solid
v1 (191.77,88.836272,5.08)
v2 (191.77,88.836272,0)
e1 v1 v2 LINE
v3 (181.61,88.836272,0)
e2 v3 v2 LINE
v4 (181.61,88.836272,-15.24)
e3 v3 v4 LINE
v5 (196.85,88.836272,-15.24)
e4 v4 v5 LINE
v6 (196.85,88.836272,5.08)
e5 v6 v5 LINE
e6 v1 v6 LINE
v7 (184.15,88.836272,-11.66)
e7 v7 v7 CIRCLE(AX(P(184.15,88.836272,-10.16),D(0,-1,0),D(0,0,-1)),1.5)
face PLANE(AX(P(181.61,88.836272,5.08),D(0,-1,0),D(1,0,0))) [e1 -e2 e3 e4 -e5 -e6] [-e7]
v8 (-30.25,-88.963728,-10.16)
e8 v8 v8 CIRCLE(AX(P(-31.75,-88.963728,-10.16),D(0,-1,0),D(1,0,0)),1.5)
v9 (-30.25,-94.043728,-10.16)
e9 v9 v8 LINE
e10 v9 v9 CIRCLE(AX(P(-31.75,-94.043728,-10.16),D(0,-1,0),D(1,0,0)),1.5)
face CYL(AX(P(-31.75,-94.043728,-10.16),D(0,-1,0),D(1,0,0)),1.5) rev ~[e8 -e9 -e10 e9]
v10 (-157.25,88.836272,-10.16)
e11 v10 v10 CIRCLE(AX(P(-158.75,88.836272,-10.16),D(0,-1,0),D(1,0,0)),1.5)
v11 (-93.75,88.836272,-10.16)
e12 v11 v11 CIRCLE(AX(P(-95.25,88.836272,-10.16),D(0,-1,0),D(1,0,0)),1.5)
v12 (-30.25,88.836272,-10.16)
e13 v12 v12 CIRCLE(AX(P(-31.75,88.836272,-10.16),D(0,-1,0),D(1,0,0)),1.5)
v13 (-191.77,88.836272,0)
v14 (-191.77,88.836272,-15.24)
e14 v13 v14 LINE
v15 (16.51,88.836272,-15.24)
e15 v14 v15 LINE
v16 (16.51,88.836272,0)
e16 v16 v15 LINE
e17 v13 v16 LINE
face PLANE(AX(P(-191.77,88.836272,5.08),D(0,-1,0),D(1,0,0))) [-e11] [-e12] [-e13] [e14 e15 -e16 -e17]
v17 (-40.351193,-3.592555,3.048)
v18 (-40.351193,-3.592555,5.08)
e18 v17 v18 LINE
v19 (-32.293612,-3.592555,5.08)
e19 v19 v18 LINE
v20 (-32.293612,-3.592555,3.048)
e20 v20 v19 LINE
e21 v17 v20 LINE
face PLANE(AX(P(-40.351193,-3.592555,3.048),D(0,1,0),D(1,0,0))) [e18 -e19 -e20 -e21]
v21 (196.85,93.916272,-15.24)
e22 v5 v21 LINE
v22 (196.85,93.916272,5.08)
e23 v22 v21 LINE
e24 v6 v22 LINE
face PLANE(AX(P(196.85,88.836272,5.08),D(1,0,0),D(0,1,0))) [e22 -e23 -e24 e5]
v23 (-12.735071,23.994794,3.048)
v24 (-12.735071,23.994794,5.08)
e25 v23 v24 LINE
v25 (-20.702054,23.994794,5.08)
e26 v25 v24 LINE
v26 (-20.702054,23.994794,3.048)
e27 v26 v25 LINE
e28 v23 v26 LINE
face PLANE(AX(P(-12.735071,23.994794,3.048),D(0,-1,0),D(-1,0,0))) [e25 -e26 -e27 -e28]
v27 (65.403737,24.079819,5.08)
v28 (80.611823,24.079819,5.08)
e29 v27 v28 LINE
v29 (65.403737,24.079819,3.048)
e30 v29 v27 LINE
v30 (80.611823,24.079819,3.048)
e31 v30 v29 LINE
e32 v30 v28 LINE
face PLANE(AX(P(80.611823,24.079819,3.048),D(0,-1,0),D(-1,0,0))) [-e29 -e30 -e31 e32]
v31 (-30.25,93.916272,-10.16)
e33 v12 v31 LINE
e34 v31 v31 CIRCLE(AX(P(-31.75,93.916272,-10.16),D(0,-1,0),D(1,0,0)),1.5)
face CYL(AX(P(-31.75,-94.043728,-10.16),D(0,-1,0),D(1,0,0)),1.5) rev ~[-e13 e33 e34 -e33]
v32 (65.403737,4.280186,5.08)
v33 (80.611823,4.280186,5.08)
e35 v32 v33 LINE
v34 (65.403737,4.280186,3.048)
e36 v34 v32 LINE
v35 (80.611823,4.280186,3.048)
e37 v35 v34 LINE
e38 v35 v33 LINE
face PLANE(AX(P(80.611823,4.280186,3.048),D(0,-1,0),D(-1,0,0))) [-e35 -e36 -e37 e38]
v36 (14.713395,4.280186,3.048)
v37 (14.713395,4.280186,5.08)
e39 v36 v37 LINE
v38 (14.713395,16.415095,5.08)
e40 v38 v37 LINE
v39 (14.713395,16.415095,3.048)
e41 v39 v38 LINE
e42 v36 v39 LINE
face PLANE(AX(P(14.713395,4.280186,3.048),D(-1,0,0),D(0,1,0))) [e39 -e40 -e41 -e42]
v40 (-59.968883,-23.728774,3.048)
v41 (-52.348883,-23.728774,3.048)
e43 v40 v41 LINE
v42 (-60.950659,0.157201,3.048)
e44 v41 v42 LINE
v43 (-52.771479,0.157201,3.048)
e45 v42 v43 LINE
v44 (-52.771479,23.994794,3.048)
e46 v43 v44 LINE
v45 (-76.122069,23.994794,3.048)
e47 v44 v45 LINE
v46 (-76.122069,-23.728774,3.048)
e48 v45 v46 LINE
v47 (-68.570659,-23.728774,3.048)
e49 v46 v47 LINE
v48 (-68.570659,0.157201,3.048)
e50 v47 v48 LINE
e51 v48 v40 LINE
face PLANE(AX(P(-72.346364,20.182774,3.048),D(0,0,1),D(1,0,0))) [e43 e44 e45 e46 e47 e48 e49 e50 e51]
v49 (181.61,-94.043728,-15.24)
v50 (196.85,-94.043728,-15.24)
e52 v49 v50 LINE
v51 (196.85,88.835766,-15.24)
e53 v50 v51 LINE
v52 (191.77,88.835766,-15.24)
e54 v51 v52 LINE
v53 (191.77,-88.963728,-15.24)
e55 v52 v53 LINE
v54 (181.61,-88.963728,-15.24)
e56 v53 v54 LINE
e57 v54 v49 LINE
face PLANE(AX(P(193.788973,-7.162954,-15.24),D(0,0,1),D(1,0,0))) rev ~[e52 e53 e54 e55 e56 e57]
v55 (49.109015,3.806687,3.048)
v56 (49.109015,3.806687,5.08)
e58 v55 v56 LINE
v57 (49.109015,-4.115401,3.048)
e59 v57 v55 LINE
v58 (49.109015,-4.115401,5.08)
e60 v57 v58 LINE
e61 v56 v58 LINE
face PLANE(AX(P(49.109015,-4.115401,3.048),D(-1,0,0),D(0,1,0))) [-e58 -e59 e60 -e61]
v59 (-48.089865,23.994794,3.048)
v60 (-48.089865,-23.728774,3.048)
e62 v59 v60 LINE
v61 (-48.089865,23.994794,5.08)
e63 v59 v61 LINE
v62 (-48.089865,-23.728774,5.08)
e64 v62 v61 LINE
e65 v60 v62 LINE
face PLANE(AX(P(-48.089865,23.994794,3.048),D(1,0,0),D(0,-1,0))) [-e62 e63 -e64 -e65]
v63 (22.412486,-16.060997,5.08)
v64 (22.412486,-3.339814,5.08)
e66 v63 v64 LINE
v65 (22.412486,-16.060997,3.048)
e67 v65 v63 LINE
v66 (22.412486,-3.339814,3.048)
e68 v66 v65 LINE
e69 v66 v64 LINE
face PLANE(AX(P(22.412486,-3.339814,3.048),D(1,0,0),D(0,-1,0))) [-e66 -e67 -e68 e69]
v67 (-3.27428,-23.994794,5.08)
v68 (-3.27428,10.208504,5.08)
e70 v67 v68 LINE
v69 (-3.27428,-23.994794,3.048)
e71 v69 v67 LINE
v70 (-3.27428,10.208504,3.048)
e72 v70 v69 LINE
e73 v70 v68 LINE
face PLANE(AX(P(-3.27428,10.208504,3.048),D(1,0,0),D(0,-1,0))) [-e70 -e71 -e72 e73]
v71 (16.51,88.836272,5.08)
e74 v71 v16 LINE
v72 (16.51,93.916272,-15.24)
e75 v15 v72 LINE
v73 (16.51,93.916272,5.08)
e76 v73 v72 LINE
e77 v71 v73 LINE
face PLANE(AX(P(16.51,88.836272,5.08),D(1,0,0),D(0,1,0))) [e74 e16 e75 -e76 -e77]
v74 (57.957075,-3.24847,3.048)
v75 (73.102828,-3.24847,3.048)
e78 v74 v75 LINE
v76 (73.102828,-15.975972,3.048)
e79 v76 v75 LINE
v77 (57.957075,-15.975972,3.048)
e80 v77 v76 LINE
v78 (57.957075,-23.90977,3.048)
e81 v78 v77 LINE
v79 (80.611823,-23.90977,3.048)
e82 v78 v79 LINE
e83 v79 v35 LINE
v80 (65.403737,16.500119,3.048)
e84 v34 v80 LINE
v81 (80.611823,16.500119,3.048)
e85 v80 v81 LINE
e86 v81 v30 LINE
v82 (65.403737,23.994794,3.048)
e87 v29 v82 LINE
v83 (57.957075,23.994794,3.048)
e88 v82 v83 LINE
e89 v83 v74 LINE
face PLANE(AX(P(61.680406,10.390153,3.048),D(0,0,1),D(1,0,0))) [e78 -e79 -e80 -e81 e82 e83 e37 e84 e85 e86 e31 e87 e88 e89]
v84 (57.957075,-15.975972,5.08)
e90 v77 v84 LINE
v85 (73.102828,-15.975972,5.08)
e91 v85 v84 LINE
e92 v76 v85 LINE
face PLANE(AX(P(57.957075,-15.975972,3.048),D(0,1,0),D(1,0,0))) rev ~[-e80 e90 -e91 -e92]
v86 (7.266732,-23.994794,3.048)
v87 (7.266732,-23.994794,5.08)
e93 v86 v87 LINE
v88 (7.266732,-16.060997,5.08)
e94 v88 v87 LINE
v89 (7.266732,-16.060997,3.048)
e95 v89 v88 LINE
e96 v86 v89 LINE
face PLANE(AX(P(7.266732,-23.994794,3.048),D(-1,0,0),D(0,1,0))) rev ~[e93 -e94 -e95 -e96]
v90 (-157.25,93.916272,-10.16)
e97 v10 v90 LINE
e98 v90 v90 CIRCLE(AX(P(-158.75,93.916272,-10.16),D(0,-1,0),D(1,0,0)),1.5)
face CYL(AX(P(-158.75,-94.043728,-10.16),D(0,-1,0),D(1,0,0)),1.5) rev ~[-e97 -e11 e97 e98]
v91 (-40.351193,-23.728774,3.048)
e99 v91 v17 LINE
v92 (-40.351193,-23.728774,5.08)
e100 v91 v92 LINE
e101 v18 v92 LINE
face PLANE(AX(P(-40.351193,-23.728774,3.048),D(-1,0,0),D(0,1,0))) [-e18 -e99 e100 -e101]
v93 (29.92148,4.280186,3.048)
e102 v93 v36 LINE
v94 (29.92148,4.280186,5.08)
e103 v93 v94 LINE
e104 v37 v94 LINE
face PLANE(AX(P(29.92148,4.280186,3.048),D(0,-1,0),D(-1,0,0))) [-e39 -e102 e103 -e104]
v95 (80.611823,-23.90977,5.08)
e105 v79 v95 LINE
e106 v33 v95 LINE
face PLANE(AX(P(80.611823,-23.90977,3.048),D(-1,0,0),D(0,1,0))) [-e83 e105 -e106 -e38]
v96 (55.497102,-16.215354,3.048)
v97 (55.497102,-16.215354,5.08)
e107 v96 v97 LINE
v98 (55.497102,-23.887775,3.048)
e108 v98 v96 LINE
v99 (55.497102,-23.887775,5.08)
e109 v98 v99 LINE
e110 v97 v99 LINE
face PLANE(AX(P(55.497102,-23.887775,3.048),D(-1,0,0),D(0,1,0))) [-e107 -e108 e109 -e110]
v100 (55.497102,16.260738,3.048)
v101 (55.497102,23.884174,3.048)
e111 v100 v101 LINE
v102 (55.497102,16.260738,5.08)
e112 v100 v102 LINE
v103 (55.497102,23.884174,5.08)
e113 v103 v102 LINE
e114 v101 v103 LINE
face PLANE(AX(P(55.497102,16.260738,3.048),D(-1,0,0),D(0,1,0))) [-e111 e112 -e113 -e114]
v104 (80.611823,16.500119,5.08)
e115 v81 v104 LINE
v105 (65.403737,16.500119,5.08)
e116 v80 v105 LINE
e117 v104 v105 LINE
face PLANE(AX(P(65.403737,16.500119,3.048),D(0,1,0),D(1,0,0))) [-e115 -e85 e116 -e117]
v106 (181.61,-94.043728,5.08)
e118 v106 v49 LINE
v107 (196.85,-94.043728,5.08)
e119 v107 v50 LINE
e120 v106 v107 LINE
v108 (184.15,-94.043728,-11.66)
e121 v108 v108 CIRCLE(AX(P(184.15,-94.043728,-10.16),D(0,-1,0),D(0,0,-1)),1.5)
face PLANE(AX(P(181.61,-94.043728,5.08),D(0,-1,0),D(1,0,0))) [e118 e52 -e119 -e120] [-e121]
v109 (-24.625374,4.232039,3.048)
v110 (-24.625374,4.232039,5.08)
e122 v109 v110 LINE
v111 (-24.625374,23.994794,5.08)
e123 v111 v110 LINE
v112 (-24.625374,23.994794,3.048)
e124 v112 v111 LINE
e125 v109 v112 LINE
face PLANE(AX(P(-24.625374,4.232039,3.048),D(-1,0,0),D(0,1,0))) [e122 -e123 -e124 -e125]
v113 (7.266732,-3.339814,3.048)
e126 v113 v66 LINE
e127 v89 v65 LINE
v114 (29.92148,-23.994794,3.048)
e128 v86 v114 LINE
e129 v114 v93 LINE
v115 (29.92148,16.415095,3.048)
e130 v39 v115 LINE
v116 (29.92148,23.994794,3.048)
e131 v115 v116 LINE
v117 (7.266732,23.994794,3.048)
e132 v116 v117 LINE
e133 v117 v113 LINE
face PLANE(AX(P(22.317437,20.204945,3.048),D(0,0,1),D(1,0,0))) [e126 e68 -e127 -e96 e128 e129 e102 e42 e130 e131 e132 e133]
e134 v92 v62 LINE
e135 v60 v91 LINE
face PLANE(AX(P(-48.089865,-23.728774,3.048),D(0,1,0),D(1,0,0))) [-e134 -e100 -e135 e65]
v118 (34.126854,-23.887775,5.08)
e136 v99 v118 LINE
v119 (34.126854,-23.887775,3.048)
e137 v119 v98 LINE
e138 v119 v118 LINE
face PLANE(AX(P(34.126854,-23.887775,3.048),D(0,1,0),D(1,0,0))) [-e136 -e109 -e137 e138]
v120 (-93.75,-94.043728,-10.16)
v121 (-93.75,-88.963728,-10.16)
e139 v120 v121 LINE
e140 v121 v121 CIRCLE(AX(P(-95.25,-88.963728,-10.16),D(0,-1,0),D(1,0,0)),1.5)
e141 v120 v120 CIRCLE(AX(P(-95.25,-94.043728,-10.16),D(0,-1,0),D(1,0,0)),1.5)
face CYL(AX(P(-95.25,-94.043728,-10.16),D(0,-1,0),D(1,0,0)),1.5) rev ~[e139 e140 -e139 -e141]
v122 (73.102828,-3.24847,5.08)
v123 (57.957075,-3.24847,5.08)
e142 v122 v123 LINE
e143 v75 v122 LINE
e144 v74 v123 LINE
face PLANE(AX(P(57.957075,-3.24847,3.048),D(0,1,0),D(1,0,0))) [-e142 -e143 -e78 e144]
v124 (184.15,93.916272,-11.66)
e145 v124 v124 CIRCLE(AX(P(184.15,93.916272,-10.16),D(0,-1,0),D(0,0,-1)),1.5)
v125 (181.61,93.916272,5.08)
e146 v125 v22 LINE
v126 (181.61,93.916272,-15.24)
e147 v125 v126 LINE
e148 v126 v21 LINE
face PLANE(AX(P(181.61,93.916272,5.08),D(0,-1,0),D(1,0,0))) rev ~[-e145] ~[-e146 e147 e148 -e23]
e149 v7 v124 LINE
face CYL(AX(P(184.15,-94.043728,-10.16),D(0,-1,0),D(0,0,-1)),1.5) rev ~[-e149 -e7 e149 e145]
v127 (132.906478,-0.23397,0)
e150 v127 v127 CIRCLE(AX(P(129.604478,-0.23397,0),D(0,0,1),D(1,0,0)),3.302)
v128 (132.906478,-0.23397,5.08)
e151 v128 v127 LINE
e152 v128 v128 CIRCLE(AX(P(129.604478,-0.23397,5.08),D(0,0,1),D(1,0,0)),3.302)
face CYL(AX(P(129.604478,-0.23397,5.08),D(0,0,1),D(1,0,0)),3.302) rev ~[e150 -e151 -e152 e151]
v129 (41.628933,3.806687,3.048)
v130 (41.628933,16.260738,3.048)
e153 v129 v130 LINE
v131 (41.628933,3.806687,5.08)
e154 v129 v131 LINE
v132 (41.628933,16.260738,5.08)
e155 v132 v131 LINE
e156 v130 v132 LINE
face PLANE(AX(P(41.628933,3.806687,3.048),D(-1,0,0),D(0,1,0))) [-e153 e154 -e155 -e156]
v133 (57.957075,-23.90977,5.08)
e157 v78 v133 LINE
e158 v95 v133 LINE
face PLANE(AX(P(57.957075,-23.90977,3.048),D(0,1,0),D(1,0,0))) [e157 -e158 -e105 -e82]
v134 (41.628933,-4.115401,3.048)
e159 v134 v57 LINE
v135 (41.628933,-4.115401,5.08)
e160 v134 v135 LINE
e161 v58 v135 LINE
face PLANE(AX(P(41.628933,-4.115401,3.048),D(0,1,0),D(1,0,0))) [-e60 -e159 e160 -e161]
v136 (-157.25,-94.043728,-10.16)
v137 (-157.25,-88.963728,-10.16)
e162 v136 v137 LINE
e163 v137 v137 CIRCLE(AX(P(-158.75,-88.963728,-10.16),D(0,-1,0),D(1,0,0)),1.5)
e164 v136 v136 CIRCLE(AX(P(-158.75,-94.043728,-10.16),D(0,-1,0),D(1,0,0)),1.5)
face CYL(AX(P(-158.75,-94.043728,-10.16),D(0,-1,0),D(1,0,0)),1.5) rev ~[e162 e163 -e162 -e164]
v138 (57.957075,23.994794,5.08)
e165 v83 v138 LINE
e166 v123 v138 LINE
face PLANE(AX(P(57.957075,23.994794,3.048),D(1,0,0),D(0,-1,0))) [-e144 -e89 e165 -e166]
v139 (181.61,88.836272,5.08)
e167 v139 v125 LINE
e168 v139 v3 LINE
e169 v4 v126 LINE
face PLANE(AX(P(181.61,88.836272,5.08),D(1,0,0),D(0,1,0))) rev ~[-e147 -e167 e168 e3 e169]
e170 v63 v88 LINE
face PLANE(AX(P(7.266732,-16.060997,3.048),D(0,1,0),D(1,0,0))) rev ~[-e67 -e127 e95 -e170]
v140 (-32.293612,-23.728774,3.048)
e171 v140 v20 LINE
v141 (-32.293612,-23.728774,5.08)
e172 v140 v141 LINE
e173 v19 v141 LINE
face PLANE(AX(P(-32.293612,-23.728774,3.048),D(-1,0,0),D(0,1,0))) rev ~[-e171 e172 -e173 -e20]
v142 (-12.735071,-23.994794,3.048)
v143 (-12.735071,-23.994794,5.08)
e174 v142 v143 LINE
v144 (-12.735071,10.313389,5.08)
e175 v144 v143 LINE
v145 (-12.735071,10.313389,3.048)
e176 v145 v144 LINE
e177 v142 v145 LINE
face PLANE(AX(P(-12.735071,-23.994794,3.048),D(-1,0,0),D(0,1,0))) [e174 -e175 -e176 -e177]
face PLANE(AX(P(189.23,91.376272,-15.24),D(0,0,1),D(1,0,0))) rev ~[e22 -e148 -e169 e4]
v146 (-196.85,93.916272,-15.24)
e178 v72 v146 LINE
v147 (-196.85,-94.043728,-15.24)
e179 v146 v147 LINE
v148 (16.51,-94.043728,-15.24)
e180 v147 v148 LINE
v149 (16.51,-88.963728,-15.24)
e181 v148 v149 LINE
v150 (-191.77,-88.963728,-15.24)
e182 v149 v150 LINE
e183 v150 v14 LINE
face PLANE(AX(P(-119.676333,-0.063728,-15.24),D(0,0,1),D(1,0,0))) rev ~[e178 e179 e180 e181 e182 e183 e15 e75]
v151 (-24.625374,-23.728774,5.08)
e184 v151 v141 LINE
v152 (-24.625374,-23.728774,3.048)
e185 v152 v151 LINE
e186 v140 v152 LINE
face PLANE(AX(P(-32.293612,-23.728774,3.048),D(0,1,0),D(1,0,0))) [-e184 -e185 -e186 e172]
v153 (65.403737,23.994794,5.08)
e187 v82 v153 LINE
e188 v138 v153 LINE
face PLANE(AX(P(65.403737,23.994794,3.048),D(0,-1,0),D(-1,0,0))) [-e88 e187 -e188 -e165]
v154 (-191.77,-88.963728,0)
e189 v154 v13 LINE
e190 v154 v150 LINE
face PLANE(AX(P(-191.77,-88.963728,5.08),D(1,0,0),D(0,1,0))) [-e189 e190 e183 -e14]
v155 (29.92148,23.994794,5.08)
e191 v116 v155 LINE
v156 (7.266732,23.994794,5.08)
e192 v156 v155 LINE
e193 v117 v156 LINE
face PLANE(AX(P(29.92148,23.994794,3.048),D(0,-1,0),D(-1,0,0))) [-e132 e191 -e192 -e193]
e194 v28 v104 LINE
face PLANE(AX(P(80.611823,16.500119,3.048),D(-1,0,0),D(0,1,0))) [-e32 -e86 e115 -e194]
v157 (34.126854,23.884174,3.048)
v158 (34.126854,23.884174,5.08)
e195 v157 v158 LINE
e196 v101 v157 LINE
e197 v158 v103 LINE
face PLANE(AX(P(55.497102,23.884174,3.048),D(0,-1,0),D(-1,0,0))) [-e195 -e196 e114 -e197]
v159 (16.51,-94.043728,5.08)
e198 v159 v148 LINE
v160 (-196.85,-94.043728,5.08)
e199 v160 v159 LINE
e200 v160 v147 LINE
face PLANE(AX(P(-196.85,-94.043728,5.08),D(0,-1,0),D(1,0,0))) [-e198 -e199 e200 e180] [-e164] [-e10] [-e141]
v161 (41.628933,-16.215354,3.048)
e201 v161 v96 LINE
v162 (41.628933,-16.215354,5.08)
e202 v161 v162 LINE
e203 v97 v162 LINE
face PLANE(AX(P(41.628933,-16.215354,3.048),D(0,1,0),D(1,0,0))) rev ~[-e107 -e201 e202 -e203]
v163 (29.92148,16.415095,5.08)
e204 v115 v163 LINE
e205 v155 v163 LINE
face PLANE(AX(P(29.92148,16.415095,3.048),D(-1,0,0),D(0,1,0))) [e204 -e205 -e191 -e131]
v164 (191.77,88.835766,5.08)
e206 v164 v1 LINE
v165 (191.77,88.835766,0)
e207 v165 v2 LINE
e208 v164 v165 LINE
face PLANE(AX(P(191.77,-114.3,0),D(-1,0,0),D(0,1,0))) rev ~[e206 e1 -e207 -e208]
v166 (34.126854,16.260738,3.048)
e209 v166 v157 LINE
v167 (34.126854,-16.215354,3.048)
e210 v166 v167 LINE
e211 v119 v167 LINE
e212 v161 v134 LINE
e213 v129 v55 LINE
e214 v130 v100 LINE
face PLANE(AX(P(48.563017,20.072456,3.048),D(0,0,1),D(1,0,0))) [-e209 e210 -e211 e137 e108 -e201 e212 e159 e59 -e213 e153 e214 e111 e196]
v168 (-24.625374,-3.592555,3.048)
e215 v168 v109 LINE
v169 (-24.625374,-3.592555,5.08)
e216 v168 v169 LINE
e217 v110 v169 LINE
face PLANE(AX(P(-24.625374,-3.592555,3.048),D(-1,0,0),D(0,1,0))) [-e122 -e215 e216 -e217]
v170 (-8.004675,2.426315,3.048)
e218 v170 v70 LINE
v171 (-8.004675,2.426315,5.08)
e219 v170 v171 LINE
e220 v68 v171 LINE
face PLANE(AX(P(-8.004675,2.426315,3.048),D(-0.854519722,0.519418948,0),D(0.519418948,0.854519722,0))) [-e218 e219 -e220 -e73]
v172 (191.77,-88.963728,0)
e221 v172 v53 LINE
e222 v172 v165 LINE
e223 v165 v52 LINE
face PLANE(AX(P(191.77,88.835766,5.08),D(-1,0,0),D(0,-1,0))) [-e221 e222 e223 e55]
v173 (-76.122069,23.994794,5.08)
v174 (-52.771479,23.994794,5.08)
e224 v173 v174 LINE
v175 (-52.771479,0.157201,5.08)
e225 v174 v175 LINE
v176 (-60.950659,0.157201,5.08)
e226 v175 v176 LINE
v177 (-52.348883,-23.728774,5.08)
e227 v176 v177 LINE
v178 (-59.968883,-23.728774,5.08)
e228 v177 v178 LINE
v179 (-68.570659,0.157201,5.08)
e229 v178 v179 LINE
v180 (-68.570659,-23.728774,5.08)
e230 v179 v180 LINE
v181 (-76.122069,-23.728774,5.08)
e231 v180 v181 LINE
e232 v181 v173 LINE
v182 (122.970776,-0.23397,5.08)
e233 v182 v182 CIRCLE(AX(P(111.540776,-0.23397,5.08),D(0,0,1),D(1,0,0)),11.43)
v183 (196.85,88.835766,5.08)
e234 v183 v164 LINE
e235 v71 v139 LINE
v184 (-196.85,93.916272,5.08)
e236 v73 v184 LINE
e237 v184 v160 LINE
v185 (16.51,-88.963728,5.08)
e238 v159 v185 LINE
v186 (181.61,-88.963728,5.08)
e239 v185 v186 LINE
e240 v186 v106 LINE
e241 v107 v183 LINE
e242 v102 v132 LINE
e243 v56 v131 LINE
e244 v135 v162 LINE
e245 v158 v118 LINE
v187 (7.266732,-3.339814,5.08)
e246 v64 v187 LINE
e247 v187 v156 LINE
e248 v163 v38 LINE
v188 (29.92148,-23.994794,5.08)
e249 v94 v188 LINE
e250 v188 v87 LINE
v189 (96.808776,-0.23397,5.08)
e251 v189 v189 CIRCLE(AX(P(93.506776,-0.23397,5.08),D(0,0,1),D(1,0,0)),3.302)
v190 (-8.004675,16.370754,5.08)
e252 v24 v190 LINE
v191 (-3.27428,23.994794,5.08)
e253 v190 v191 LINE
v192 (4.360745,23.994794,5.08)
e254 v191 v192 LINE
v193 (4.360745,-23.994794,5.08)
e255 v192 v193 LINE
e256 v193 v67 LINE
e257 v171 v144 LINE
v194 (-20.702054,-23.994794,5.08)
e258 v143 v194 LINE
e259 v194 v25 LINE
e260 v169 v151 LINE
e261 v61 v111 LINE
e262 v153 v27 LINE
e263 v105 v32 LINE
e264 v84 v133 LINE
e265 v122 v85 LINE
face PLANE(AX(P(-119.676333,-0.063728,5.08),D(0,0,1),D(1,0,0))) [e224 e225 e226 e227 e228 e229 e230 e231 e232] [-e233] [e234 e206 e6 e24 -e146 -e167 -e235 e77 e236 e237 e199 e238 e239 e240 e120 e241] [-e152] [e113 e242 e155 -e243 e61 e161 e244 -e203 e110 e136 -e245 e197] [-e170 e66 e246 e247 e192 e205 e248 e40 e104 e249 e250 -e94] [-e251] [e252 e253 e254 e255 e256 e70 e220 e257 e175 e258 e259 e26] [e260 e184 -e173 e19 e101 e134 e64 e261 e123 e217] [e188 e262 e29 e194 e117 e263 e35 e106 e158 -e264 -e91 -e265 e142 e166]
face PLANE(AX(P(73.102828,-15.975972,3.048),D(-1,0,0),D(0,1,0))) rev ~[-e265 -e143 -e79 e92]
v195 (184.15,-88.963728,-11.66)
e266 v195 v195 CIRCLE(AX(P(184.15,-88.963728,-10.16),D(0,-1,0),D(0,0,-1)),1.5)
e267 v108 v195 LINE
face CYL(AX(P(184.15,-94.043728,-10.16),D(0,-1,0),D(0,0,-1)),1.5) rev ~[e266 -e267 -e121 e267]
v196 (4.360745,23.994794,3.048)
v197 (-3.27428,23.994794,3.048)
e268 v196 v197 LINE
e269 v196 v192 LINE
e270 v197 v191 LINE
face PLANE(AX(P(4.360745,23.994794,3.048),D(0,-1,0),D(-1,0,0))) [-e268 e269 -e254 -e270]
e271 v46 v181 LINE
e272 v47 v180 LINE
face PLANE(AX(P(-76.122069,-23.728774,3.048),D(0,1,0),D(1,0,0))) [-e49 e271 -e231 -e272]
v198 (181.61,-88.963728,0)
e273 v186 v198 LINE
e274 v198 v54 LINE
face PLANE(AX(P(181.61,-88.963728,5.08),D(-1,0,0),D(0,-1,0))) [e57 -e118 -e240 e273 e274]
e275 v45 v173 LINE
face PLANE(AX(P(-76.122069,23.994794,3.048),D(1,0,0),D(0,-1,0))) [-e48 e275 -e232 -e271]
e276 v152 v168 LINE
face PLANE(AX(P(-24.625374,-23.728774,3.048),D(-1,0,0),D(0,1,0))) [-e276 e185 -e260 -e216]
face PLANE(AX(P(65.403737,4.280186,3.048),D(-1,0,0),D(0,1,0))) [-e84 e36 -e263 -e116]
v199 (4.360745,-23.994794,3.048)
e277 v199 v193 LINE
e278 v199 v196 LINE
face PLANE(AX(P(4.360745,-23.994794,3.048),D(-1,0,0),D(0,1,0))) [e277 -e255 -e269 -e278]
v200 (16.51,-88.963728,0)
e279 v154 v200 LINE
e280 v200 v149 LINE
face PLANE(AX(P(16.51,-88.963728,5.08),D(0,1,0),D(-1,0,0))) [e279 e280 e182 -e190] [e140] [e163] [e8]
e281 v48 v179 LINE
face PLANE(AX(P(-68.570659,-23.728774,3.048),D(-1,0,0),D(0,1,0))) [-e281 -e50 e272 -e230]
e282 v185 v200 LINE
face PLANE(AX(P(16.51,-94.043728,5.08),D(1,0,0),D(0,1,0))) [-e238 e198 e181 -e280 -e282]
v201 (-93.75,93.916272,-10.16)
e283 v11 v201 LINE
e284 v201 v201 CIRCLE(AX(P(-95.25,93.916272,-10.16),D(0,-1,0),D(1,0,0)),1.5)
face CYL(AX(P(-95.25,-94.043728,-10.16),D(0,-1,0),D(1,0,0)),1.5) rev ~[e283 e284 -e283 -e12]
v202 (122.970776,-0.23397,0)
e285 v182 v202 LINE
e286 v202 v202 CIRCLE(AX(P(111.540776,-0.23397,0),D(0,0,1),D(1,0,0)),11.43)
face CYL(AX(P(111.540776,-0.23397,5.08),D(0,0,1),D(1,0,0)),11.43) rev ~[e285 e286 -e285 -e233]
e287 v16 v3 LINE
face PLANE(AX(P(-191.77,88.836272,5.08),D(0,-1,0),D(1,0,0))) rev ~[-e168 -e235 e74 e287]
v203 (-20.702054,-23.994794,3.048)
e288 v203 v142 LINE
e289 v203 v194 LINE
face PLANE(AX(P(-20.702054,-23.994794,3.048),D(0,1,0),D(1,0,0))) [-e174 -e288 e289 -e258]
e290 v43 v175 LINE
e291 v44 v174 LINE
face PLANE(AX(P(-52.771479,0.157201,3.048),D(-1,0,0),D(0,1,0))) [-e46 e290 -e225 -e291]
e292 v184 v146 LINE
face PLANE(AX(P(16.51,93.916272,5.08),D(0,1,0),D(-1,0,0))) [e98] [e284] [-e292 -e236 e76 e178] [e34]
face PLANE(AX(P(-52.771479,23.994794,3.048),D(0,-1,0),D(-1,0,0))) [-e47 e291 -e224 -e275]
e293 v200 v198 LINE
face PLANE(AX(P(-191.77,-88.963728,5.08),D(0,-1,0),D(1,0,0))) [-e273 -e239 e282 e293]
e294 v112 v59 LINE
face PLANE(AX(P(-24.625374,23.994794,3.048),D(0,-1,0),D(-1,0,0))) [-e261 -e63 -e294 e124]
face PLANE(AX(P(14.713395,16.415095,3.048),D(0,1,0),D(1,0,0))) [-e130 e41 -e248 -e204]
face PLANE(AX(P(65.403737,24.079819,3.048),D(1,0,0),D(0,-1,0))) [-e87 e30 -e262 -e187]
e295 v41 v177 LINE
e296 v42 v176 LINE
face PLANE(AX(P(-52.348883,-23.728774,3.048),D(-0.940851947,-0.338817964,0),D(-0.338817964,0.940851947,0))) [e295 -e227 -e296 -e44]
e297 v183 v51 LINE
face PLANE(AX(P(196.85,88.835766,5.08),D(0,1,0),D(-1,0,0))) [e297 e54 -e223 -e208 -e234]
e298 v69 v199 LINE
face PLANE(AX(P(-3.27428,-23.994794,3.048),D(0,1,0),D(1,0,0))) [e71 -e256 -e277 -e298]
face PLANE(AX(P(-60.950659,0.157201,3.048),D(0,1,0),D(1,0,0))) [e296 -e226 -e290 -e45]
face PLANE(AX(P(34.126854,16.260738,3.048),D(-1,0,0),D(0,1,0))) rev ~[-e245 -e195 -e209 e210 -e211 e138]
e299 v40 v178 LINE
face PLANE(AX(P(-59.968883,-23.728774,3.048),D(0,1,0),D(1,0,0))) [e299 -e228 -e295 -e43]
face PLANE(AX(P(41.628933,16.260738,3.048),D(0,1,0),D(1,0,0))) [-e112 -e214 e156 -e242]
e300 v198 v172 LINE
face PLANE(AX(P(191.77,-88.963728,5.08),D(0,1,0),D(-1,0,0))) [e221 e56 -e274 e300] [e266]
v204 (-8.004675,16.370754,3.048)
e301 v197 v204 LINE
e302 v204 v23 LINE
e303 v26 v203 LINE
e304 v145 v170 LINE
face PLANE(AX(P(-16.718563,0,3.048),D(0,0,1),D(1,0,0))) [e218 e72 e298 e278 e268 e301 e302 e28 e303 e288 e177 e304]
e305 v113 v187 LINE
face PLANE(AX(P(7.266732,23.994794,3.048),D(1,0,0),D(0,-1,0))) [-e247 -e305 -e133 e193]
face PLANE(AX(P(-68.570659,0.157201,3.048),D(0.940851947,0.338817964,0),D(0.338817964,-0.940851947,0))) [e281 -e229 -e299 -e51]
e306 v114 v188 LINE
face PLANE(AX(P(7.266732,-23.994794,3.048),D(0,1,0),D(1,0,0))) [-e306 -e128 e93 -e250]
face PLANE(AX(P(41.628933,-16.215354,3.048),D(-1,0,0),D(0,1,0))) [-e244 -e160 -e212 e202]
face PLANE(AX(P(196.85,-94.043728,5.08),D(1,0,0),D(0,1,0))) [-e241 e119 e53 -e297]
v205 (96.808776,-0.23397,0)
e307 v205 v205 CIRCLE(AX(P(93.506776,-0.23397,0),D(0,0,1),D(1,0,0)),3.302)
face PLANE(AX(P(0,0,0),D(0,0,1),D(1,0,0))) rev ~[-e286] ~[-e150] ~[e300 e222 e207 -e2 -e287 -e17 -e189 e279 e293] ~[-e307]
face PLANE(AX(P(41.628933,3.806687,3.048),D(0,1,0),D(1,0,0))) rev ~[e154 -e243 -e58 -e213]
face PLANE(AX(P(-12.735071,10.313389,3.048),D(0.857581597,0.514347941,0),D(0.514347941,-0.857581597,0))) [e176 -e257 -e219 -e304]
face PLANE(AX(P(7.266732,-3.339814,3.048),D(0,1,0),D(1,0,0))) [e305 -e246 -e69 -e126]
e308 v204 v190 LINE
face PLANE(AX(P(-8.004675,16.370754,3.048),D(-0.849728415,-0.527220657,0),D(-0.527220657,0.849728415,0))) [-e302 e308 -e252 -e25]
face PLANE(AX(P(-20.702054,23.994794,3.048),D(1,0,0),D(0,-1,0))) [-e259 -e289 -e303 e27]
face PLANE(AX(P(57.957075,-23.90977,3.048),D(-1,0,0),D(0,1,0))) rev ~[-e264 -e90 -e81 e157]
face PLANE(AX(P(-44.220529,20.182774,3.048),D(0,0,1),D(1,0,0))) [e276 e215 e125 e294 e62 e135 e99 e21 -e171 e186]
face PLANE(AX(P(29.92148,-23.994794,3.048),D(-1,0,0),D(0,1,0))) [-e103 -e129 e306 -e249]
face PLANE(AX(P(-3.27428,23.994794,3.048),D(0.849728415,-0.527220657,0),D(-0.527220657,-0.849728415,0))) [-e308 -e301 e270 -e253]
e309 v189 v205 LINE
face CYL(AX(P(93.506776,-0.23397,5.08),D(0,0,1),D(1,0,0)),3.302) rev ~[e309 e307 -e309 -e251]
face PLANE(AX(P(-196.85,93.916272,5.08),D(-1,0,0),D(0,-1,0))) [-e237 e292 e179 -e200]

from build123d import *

# Parameters (mm, degrees)
SKETCH1_W               = 383.54
SKETCH1_H               = 228.6
BOSS_EXTRUDE1_DEPTH     = 5.08
CUT_EXTRUDE4_DEPTH      = 2.54
CUT_EXTRUDE4_DEPTH_BACK = 2.032
SKETCH3_W               = 7.551410014
SKETCH3_H               = 7.624040678
SKETCH3_W_2             = 8.426229182
SKETCH3_W_3             = 7.372950534
SKETCH3_H_2             = 8.377243284
SKETCH3_H_3             = 7.836309586
SKETCH3_H_4             = 23.885974754
SKETCH3_W_4             = 7.738672286
SKETCH3_W_5             = 8.057581655
SKETCH3_W_6             = 7.668237515
SKETCH3_H_5             = 12.138714326
SKETCH3_H_6             = 7.824594082
SKETCH3_H_7             = 20.136219216
SKETCH3_W_7             = 15.20808594
SKETCH3_H_8             = 7.579699467
SKETCH3_W_8             = 7.446662222
SKETCH3_W_9             = 13.868168861
SKETCH3_H_9             = 7.623435987
SKETCH3_H_10            = 12.134909421
SKETCH3_H_11            = 7.62
SKETCH3_W_10            = 7.699091451
SKETCH3_W_11            = 7.508994489
SKETCH3_H_12            = 12.721182216
SKETCH3_H_13            = 7.933797838
SKETCH3_W_12            = 15.145753673
SKETCH3_W_13            = 7.502078631
SKETCH3_W_14            = 7.480081761
SKETCH3_H_14            = 7.922088466
SKETCH3_H_15            = 7.672421885
SKETCH3_H_16            = 12.219933912
SKETCH3_H_17            = 7.494674976
SKETCH3_W_15            = 10.718331987
SKETCH3_H_18            = 7.528655491
SKETCH3_H_19            = 7.933797839
SKETCH3_W_16            = 3.019240536
SKETCH3_W_17            = 4.489753953
SKETCH3_H_20            = 12.727502234
SKETCH4_W               = 383.54
SKETCH4_H               = 25.463727846
SKETCH4_H_2             = 25.336272154
CUT_EXTRUDE5_DEPTH      = 6.35
SKETCH7_R               = 3.302
SKETCH7_R_2             = 11.43
CUT_EXTRUDE6_DEPTH      = 203.2
SKETCH8_W               = 15.24
SKETCH8_H               = 5.08
BOSS_EXTRUDE2_DEPTH     = 20.32
SKETCH11_R              = 1.5
CUT_EXTRUDE7_DEPTH      = 381


with BuildPart() as part:
    # Sketch1 → Boss-Extrude1 (new body)
    with BuildSketch(Plane.XY):
        Rectangle(SKETCH1_W, SKETCH1_H)
    extrude(amount=BOSS_EXTRUDE1_DEPTH)

    # Sketch3 → Cut-Extrude4 (cut, two sides: drawn at the far end of the back side and taken through both)
    with BuildSketch(Plane.XY.offset(5.08).offset(-CUT_EXTRUDE4_DEPTH_BACK)):
        with Locations((-72.346363981, 20.182774132)):
            Rectangle(SKETCH3_W, SKETCH3_H)
        with Locations((-64.357544383, 20.182774132)):
            Rectangle(SKETCH3_W_2, SKETCH3_H)
        with Locations((-56.457954525, 20.182774132)):
            Rectangle(SKETCH3_W_3, SKETCH3_H)
        with Locations((-56.457954525, 12.182132151)):
            Rectangle(SKETCH3_W_3, SKETCH3_H_2)
        with Locations((-72.346363981, 4.075355716)):
            Rectangle(SKETCH3_W, SKETCH3_H_3)
        with Locations((-72.346363981, -11.785786454)):
            Rectangle(SKETCH3_W, SKETCH3_H_4)
        with Locations((-72.346363981, 12.182132151)):
            Rectangle(SKETCH3_W, SKETCH3_H_2)
        with Locations((-64.357544383, 12.182132151)):
            Rectangle(SKETCH3_W_2, SKETCH3_H_2)
        Polygon((-68.570658974, 7.993510509), (-68.570658974, 0.157200923), (-60.950658974, 0.157200923), (-52.771479258, 0.157200923), (-52.771479258, 7.993510509), (-60.144429792, 7.993510509), align=None)
        Polygon((-68.570658974, 0.157200923), (-59.968883351, -23.728773831), (-52.348883351, -23.728773831), (-60.950658974, 0.157200923), align=None)
        with Locations((-44.220529343, 20.182774132)):
            Rectangle(SKETCH3_W_4, SKETCH3_H)
        with Locations((-36.322402373, 20.182774132)):
            Rectangle(SKETCH3_W_5, SKETCH3_H)
        with Locations((-28.459492788, 20.182774132)):
            Rectangle(SKETCH3_W_6, SKETCH3_H)
        with Locations((-28.459492788, 10.30139663)):
            Rectangle(SKETCH3_W_6, SKETCH3_H_5)
        with Locations((-36.322402373, 10.30139663)):
            Rectangle(SKETCH3_W_5, SKETCH3_H_5)
        with Locations((-44.220529343, 10.30139663)):
            Rectangle(SKETCH3_W_4, SKETCH3_H_5)
        with Locations((-44.220529343, 0.319742426)):
            Rectangle(SKETCH3_W_4, SKETCH3_H_6)
        with Locations((-36.322402373, 0.319742426)):
            Rectangle(SKETCH3_W_5, SKETCH3_H_6)
        Polygon((-24.62537403, 0.157200923), (-24.62537403, 4.232039467), (-32.293611545, 4.232039467), (-32.293611545, -3.592554615), (-24.62537403, -3.592554615), align=None)
        with Locations((-44.220529343, -13.660664223)):
            Rectangle(SKETCH3_W_4, SKETCH3_H_7)
        with Locations((-28.459492788, -13.660664223)):
            Rectangle(SKETCH3_W_6, SKETCH3_H_7)
        Polygon((-12.735071294, 23.994794471), (-20.70205372, 23.994794471), (-20.70205372, -23.994794471), (-12.735071294, -23.994794471), (-12.735071294, 10.313389338), align=None)
        Polygon((-8.004675478, 16.370753793), (-12.735071294, 23.994794471), (-12.735071294, 10.313389338), (-8.004675478, 2.426315091), (-3.274279663, 10.208504268), (-3.274279663, 23.994794471), align=None)
        Polygon((4.360745163, 23.994794471), (-3.274279663, 23.994794471), (-3.274279663, 10.208504268), (-3.274279663, -23.994794471), (4.360745163, -23.994794471), align=None)
        with Locations((22.317437477, 20.204944737)):
            Rectangle(SKETCH3_W_7, SKETCH3_H_8)
        with Locations((10.990063396, 20.204944737)):
            Rectangle(SKETCH3_W_8, SKETCH3_H_8)
        with Locations((48.563017268, 20.072456114)):
            Rectangle(SKETCH3_W_9, SKETCH3_H_9)
        with Locations((10.990063396, 10.347640294)):
            Rectangle(SKETCH3_W_8, SKETCH3_H_10)
        with Locations((10.990063396, 0.470185583)):
            Rectangle(SKETCH3_W_8, SKETCH3_H_11)
        with Locations((18.562940233, 0.470185583)):
            Rectangle(SKETCH3_W_10, SKETCH3_H_11)
        with Locations((26.166983202, 0.470185583)):
            Rectangle(SKETCH3_W_11, SKETCH3_H_11)
        with Locations((26.166983202, -9.700405525)):
            Rectangle(SKETCH3_W_11, SKETCH3_H_12)
        with Locations((26.166983202, -20.027895552)):
            Rectangle(SKETCH3_W_11, SKETCH3_H_13)
        with Locations((14.839609122, -20.027895552)):
            Rectangle(SKETCH3_W_12, SKETCH3_H_13)
        with Locations((37.877893521, 20.072456114)):
            Rectangle(SKETCH3_W_13, SKETCH3_H_9)
        Polygon((41.628932837, 16.26073812), (34.126854206, 16.26073812), (34.126854206, -16.215353517), (41.628932837, -16.215353517), (41.628932837, -4.115401118), (34.148851076, -4.115401118), (34.148851076, 3.806687348), (41.628932837, 3.806687348), align=None)
        with Locations((37.888891957, -0.154356885)):
            Rectangle(SKETCH3_W_14, SKETCH3_H_14)
        with Locations((45.368973717, -0.154356885)):
            Rectangle(SKETCH3_W_14, SKETCH3_H_14)
        with Locations((37.877893521, -20.051564459)):
            Rectangle(SKETCH3_W_13, SKETCH3_H_15)
        with Locations((48.563017268, -20.051564459)):
            Rectangle(SKETCH3_W_9, SKETCH3_H_15)
        with Locations((61.68040589, 10.390152539)):
            Rectangle(SKETCH3_W_8, SKETCH3_H_16)
        with Locations((61.68040589, 20.247456983)):
            Rectangle(SKETCH3_W_8, SKETCH3_H_17)
        with Locations((70.762902995, 20.247456983)):
            Rectangle(SKETCH3_W_15, SKETCH3_H_17)
        Polygon((65.403737001, 24.079818962), (65.403737001, 23.994794471), (76.122068988, 23.994794471), (76.122068988, 16.500119495), (80.611822941, 16.500119495), (80.611822941, 24.079818962), align=None)
        with Locations((61.68040589, 0.515857838)):
            Rectangle(SKETCH3_W_8, SKETCH3_H_18)
        with Locations((65.529951616, -19.942871061)):
            Rectangle(SKETCH3_W_12, SKETCH3_H_19)
        with Locations((69.253282727, 0.515857838)):
            Rectangle(SKETCH3_W_10, SKETCH3_H_18)
        with Locations((74.61244872, 0.515857838)):
            Rectangle(SKETCH3_W_16, SKETCH3_H_18)
        with Locations((78.366945965, 0.515857838)):
            Rectangle(SKETCH3_W_17, SKETCH3_H_18)
        with Locations((78.366945965, -9.612221025)):
            Rectangle(SKETCH3_W_17, SKETCH3_H_20)
        with Locations((74.61244872, -9.612221025)):
            Rectangle(SKETCH3_W_16, SKETCH3_H_20)
        with Locations((74.61244872, -19.942871061)):
            Rectangle(SKETCH3_W_16, SKETCH3_H_19)
        with Locations((78.366945965, -19.942871061)):
            Rectangle(SKETCH3_W_17, SKETCH3_H_19)
    extrude(amount=CUT_EXTRUDE4_DEPTH + CUT_EXTRUDE4_DEPTH_BACK, mode=Mode.SUBTRACT)

    # Sketch4 → Cut-Extrude5 (cut)
    with BuildSketch(Plane.XY.offset(5.08)):
        with Locations((0, 101.568136077)):
            Rectangle(SKETCH4_W, SKETCH4_H)
        with Locations((0, -101.631863923)):
            Rectangle(SKETCH4_W, SKETCH4_H_2)
    extrude(amount=-CUT_EXTRUDE5_DEPTH, mode=Mode.SUBTRACT)

    # Sketch7 → Cut-Extrude6 (cut)
    with BuildSketch(Plane.XY.offset(5.08)):
        with Locations((93.506776136, -0.23396958)):
            Circle(SKETCH7_R)
        with Locations((111.540776136, -0.23396958)):
            Circle(SKETCH7_R_2)
        with Locations((129.604477858, -0.23396958)):
            Circle(SKETCH7_R)
    extrude(amount=-CUT_EXTRUDE6_DEPTH, mode=Mode.SUBTRACT)

    # Sketch8 → Boss-Extrude2 (add)
    with BuildSketch(Plane.XY.offset(5.08)):
        Polygon((16.51, 93.916272154), (-196.85, 93.916272154), (-196.85, -94.043727846), (16.51, -94.043727846), (16.51, -88.963727846), (-191.77, -88.963727846), (-191.77, 88.836272154), (16.51, 88.836272154), align=None)
        with Locations((189.23, 91.376272154)):
            Rectangle(SKETCH8_W, SKETCH8_H)
        Polygon((196.85, 88.835766484), (191.77, 88.835766484), (191.77, -88.963727846), (181.61, -88.963727846), (181.61, -94.043727846), (196.85, -94.043727846), align=None)
    extrude(amount=-BOSS_EXTRUDE2_DEPTH)

    # Sketch11 → Cut-Extrude7 (cut)
    with BuildSketch(Plane.XZ.offset(94.043727846)):
        with Locations((-158.75, -10.16)):
            Circle(SKETCH11_R)
        with Locations((-95.25, -10.16)):
            Circle(SKETCH11_R)
        with Locations(Location((184.15, -10.16, 0), (0, 0, 270))):
            Circle(SKETCH11_R)
        with Locations((-31.75, -10.16)):
            Circle(SKETCH11_R)
    extrude(amount=-CUT_EXTRUDE7_DEPTH, mode=Mode.SUBTRACT)


solid = part.part
